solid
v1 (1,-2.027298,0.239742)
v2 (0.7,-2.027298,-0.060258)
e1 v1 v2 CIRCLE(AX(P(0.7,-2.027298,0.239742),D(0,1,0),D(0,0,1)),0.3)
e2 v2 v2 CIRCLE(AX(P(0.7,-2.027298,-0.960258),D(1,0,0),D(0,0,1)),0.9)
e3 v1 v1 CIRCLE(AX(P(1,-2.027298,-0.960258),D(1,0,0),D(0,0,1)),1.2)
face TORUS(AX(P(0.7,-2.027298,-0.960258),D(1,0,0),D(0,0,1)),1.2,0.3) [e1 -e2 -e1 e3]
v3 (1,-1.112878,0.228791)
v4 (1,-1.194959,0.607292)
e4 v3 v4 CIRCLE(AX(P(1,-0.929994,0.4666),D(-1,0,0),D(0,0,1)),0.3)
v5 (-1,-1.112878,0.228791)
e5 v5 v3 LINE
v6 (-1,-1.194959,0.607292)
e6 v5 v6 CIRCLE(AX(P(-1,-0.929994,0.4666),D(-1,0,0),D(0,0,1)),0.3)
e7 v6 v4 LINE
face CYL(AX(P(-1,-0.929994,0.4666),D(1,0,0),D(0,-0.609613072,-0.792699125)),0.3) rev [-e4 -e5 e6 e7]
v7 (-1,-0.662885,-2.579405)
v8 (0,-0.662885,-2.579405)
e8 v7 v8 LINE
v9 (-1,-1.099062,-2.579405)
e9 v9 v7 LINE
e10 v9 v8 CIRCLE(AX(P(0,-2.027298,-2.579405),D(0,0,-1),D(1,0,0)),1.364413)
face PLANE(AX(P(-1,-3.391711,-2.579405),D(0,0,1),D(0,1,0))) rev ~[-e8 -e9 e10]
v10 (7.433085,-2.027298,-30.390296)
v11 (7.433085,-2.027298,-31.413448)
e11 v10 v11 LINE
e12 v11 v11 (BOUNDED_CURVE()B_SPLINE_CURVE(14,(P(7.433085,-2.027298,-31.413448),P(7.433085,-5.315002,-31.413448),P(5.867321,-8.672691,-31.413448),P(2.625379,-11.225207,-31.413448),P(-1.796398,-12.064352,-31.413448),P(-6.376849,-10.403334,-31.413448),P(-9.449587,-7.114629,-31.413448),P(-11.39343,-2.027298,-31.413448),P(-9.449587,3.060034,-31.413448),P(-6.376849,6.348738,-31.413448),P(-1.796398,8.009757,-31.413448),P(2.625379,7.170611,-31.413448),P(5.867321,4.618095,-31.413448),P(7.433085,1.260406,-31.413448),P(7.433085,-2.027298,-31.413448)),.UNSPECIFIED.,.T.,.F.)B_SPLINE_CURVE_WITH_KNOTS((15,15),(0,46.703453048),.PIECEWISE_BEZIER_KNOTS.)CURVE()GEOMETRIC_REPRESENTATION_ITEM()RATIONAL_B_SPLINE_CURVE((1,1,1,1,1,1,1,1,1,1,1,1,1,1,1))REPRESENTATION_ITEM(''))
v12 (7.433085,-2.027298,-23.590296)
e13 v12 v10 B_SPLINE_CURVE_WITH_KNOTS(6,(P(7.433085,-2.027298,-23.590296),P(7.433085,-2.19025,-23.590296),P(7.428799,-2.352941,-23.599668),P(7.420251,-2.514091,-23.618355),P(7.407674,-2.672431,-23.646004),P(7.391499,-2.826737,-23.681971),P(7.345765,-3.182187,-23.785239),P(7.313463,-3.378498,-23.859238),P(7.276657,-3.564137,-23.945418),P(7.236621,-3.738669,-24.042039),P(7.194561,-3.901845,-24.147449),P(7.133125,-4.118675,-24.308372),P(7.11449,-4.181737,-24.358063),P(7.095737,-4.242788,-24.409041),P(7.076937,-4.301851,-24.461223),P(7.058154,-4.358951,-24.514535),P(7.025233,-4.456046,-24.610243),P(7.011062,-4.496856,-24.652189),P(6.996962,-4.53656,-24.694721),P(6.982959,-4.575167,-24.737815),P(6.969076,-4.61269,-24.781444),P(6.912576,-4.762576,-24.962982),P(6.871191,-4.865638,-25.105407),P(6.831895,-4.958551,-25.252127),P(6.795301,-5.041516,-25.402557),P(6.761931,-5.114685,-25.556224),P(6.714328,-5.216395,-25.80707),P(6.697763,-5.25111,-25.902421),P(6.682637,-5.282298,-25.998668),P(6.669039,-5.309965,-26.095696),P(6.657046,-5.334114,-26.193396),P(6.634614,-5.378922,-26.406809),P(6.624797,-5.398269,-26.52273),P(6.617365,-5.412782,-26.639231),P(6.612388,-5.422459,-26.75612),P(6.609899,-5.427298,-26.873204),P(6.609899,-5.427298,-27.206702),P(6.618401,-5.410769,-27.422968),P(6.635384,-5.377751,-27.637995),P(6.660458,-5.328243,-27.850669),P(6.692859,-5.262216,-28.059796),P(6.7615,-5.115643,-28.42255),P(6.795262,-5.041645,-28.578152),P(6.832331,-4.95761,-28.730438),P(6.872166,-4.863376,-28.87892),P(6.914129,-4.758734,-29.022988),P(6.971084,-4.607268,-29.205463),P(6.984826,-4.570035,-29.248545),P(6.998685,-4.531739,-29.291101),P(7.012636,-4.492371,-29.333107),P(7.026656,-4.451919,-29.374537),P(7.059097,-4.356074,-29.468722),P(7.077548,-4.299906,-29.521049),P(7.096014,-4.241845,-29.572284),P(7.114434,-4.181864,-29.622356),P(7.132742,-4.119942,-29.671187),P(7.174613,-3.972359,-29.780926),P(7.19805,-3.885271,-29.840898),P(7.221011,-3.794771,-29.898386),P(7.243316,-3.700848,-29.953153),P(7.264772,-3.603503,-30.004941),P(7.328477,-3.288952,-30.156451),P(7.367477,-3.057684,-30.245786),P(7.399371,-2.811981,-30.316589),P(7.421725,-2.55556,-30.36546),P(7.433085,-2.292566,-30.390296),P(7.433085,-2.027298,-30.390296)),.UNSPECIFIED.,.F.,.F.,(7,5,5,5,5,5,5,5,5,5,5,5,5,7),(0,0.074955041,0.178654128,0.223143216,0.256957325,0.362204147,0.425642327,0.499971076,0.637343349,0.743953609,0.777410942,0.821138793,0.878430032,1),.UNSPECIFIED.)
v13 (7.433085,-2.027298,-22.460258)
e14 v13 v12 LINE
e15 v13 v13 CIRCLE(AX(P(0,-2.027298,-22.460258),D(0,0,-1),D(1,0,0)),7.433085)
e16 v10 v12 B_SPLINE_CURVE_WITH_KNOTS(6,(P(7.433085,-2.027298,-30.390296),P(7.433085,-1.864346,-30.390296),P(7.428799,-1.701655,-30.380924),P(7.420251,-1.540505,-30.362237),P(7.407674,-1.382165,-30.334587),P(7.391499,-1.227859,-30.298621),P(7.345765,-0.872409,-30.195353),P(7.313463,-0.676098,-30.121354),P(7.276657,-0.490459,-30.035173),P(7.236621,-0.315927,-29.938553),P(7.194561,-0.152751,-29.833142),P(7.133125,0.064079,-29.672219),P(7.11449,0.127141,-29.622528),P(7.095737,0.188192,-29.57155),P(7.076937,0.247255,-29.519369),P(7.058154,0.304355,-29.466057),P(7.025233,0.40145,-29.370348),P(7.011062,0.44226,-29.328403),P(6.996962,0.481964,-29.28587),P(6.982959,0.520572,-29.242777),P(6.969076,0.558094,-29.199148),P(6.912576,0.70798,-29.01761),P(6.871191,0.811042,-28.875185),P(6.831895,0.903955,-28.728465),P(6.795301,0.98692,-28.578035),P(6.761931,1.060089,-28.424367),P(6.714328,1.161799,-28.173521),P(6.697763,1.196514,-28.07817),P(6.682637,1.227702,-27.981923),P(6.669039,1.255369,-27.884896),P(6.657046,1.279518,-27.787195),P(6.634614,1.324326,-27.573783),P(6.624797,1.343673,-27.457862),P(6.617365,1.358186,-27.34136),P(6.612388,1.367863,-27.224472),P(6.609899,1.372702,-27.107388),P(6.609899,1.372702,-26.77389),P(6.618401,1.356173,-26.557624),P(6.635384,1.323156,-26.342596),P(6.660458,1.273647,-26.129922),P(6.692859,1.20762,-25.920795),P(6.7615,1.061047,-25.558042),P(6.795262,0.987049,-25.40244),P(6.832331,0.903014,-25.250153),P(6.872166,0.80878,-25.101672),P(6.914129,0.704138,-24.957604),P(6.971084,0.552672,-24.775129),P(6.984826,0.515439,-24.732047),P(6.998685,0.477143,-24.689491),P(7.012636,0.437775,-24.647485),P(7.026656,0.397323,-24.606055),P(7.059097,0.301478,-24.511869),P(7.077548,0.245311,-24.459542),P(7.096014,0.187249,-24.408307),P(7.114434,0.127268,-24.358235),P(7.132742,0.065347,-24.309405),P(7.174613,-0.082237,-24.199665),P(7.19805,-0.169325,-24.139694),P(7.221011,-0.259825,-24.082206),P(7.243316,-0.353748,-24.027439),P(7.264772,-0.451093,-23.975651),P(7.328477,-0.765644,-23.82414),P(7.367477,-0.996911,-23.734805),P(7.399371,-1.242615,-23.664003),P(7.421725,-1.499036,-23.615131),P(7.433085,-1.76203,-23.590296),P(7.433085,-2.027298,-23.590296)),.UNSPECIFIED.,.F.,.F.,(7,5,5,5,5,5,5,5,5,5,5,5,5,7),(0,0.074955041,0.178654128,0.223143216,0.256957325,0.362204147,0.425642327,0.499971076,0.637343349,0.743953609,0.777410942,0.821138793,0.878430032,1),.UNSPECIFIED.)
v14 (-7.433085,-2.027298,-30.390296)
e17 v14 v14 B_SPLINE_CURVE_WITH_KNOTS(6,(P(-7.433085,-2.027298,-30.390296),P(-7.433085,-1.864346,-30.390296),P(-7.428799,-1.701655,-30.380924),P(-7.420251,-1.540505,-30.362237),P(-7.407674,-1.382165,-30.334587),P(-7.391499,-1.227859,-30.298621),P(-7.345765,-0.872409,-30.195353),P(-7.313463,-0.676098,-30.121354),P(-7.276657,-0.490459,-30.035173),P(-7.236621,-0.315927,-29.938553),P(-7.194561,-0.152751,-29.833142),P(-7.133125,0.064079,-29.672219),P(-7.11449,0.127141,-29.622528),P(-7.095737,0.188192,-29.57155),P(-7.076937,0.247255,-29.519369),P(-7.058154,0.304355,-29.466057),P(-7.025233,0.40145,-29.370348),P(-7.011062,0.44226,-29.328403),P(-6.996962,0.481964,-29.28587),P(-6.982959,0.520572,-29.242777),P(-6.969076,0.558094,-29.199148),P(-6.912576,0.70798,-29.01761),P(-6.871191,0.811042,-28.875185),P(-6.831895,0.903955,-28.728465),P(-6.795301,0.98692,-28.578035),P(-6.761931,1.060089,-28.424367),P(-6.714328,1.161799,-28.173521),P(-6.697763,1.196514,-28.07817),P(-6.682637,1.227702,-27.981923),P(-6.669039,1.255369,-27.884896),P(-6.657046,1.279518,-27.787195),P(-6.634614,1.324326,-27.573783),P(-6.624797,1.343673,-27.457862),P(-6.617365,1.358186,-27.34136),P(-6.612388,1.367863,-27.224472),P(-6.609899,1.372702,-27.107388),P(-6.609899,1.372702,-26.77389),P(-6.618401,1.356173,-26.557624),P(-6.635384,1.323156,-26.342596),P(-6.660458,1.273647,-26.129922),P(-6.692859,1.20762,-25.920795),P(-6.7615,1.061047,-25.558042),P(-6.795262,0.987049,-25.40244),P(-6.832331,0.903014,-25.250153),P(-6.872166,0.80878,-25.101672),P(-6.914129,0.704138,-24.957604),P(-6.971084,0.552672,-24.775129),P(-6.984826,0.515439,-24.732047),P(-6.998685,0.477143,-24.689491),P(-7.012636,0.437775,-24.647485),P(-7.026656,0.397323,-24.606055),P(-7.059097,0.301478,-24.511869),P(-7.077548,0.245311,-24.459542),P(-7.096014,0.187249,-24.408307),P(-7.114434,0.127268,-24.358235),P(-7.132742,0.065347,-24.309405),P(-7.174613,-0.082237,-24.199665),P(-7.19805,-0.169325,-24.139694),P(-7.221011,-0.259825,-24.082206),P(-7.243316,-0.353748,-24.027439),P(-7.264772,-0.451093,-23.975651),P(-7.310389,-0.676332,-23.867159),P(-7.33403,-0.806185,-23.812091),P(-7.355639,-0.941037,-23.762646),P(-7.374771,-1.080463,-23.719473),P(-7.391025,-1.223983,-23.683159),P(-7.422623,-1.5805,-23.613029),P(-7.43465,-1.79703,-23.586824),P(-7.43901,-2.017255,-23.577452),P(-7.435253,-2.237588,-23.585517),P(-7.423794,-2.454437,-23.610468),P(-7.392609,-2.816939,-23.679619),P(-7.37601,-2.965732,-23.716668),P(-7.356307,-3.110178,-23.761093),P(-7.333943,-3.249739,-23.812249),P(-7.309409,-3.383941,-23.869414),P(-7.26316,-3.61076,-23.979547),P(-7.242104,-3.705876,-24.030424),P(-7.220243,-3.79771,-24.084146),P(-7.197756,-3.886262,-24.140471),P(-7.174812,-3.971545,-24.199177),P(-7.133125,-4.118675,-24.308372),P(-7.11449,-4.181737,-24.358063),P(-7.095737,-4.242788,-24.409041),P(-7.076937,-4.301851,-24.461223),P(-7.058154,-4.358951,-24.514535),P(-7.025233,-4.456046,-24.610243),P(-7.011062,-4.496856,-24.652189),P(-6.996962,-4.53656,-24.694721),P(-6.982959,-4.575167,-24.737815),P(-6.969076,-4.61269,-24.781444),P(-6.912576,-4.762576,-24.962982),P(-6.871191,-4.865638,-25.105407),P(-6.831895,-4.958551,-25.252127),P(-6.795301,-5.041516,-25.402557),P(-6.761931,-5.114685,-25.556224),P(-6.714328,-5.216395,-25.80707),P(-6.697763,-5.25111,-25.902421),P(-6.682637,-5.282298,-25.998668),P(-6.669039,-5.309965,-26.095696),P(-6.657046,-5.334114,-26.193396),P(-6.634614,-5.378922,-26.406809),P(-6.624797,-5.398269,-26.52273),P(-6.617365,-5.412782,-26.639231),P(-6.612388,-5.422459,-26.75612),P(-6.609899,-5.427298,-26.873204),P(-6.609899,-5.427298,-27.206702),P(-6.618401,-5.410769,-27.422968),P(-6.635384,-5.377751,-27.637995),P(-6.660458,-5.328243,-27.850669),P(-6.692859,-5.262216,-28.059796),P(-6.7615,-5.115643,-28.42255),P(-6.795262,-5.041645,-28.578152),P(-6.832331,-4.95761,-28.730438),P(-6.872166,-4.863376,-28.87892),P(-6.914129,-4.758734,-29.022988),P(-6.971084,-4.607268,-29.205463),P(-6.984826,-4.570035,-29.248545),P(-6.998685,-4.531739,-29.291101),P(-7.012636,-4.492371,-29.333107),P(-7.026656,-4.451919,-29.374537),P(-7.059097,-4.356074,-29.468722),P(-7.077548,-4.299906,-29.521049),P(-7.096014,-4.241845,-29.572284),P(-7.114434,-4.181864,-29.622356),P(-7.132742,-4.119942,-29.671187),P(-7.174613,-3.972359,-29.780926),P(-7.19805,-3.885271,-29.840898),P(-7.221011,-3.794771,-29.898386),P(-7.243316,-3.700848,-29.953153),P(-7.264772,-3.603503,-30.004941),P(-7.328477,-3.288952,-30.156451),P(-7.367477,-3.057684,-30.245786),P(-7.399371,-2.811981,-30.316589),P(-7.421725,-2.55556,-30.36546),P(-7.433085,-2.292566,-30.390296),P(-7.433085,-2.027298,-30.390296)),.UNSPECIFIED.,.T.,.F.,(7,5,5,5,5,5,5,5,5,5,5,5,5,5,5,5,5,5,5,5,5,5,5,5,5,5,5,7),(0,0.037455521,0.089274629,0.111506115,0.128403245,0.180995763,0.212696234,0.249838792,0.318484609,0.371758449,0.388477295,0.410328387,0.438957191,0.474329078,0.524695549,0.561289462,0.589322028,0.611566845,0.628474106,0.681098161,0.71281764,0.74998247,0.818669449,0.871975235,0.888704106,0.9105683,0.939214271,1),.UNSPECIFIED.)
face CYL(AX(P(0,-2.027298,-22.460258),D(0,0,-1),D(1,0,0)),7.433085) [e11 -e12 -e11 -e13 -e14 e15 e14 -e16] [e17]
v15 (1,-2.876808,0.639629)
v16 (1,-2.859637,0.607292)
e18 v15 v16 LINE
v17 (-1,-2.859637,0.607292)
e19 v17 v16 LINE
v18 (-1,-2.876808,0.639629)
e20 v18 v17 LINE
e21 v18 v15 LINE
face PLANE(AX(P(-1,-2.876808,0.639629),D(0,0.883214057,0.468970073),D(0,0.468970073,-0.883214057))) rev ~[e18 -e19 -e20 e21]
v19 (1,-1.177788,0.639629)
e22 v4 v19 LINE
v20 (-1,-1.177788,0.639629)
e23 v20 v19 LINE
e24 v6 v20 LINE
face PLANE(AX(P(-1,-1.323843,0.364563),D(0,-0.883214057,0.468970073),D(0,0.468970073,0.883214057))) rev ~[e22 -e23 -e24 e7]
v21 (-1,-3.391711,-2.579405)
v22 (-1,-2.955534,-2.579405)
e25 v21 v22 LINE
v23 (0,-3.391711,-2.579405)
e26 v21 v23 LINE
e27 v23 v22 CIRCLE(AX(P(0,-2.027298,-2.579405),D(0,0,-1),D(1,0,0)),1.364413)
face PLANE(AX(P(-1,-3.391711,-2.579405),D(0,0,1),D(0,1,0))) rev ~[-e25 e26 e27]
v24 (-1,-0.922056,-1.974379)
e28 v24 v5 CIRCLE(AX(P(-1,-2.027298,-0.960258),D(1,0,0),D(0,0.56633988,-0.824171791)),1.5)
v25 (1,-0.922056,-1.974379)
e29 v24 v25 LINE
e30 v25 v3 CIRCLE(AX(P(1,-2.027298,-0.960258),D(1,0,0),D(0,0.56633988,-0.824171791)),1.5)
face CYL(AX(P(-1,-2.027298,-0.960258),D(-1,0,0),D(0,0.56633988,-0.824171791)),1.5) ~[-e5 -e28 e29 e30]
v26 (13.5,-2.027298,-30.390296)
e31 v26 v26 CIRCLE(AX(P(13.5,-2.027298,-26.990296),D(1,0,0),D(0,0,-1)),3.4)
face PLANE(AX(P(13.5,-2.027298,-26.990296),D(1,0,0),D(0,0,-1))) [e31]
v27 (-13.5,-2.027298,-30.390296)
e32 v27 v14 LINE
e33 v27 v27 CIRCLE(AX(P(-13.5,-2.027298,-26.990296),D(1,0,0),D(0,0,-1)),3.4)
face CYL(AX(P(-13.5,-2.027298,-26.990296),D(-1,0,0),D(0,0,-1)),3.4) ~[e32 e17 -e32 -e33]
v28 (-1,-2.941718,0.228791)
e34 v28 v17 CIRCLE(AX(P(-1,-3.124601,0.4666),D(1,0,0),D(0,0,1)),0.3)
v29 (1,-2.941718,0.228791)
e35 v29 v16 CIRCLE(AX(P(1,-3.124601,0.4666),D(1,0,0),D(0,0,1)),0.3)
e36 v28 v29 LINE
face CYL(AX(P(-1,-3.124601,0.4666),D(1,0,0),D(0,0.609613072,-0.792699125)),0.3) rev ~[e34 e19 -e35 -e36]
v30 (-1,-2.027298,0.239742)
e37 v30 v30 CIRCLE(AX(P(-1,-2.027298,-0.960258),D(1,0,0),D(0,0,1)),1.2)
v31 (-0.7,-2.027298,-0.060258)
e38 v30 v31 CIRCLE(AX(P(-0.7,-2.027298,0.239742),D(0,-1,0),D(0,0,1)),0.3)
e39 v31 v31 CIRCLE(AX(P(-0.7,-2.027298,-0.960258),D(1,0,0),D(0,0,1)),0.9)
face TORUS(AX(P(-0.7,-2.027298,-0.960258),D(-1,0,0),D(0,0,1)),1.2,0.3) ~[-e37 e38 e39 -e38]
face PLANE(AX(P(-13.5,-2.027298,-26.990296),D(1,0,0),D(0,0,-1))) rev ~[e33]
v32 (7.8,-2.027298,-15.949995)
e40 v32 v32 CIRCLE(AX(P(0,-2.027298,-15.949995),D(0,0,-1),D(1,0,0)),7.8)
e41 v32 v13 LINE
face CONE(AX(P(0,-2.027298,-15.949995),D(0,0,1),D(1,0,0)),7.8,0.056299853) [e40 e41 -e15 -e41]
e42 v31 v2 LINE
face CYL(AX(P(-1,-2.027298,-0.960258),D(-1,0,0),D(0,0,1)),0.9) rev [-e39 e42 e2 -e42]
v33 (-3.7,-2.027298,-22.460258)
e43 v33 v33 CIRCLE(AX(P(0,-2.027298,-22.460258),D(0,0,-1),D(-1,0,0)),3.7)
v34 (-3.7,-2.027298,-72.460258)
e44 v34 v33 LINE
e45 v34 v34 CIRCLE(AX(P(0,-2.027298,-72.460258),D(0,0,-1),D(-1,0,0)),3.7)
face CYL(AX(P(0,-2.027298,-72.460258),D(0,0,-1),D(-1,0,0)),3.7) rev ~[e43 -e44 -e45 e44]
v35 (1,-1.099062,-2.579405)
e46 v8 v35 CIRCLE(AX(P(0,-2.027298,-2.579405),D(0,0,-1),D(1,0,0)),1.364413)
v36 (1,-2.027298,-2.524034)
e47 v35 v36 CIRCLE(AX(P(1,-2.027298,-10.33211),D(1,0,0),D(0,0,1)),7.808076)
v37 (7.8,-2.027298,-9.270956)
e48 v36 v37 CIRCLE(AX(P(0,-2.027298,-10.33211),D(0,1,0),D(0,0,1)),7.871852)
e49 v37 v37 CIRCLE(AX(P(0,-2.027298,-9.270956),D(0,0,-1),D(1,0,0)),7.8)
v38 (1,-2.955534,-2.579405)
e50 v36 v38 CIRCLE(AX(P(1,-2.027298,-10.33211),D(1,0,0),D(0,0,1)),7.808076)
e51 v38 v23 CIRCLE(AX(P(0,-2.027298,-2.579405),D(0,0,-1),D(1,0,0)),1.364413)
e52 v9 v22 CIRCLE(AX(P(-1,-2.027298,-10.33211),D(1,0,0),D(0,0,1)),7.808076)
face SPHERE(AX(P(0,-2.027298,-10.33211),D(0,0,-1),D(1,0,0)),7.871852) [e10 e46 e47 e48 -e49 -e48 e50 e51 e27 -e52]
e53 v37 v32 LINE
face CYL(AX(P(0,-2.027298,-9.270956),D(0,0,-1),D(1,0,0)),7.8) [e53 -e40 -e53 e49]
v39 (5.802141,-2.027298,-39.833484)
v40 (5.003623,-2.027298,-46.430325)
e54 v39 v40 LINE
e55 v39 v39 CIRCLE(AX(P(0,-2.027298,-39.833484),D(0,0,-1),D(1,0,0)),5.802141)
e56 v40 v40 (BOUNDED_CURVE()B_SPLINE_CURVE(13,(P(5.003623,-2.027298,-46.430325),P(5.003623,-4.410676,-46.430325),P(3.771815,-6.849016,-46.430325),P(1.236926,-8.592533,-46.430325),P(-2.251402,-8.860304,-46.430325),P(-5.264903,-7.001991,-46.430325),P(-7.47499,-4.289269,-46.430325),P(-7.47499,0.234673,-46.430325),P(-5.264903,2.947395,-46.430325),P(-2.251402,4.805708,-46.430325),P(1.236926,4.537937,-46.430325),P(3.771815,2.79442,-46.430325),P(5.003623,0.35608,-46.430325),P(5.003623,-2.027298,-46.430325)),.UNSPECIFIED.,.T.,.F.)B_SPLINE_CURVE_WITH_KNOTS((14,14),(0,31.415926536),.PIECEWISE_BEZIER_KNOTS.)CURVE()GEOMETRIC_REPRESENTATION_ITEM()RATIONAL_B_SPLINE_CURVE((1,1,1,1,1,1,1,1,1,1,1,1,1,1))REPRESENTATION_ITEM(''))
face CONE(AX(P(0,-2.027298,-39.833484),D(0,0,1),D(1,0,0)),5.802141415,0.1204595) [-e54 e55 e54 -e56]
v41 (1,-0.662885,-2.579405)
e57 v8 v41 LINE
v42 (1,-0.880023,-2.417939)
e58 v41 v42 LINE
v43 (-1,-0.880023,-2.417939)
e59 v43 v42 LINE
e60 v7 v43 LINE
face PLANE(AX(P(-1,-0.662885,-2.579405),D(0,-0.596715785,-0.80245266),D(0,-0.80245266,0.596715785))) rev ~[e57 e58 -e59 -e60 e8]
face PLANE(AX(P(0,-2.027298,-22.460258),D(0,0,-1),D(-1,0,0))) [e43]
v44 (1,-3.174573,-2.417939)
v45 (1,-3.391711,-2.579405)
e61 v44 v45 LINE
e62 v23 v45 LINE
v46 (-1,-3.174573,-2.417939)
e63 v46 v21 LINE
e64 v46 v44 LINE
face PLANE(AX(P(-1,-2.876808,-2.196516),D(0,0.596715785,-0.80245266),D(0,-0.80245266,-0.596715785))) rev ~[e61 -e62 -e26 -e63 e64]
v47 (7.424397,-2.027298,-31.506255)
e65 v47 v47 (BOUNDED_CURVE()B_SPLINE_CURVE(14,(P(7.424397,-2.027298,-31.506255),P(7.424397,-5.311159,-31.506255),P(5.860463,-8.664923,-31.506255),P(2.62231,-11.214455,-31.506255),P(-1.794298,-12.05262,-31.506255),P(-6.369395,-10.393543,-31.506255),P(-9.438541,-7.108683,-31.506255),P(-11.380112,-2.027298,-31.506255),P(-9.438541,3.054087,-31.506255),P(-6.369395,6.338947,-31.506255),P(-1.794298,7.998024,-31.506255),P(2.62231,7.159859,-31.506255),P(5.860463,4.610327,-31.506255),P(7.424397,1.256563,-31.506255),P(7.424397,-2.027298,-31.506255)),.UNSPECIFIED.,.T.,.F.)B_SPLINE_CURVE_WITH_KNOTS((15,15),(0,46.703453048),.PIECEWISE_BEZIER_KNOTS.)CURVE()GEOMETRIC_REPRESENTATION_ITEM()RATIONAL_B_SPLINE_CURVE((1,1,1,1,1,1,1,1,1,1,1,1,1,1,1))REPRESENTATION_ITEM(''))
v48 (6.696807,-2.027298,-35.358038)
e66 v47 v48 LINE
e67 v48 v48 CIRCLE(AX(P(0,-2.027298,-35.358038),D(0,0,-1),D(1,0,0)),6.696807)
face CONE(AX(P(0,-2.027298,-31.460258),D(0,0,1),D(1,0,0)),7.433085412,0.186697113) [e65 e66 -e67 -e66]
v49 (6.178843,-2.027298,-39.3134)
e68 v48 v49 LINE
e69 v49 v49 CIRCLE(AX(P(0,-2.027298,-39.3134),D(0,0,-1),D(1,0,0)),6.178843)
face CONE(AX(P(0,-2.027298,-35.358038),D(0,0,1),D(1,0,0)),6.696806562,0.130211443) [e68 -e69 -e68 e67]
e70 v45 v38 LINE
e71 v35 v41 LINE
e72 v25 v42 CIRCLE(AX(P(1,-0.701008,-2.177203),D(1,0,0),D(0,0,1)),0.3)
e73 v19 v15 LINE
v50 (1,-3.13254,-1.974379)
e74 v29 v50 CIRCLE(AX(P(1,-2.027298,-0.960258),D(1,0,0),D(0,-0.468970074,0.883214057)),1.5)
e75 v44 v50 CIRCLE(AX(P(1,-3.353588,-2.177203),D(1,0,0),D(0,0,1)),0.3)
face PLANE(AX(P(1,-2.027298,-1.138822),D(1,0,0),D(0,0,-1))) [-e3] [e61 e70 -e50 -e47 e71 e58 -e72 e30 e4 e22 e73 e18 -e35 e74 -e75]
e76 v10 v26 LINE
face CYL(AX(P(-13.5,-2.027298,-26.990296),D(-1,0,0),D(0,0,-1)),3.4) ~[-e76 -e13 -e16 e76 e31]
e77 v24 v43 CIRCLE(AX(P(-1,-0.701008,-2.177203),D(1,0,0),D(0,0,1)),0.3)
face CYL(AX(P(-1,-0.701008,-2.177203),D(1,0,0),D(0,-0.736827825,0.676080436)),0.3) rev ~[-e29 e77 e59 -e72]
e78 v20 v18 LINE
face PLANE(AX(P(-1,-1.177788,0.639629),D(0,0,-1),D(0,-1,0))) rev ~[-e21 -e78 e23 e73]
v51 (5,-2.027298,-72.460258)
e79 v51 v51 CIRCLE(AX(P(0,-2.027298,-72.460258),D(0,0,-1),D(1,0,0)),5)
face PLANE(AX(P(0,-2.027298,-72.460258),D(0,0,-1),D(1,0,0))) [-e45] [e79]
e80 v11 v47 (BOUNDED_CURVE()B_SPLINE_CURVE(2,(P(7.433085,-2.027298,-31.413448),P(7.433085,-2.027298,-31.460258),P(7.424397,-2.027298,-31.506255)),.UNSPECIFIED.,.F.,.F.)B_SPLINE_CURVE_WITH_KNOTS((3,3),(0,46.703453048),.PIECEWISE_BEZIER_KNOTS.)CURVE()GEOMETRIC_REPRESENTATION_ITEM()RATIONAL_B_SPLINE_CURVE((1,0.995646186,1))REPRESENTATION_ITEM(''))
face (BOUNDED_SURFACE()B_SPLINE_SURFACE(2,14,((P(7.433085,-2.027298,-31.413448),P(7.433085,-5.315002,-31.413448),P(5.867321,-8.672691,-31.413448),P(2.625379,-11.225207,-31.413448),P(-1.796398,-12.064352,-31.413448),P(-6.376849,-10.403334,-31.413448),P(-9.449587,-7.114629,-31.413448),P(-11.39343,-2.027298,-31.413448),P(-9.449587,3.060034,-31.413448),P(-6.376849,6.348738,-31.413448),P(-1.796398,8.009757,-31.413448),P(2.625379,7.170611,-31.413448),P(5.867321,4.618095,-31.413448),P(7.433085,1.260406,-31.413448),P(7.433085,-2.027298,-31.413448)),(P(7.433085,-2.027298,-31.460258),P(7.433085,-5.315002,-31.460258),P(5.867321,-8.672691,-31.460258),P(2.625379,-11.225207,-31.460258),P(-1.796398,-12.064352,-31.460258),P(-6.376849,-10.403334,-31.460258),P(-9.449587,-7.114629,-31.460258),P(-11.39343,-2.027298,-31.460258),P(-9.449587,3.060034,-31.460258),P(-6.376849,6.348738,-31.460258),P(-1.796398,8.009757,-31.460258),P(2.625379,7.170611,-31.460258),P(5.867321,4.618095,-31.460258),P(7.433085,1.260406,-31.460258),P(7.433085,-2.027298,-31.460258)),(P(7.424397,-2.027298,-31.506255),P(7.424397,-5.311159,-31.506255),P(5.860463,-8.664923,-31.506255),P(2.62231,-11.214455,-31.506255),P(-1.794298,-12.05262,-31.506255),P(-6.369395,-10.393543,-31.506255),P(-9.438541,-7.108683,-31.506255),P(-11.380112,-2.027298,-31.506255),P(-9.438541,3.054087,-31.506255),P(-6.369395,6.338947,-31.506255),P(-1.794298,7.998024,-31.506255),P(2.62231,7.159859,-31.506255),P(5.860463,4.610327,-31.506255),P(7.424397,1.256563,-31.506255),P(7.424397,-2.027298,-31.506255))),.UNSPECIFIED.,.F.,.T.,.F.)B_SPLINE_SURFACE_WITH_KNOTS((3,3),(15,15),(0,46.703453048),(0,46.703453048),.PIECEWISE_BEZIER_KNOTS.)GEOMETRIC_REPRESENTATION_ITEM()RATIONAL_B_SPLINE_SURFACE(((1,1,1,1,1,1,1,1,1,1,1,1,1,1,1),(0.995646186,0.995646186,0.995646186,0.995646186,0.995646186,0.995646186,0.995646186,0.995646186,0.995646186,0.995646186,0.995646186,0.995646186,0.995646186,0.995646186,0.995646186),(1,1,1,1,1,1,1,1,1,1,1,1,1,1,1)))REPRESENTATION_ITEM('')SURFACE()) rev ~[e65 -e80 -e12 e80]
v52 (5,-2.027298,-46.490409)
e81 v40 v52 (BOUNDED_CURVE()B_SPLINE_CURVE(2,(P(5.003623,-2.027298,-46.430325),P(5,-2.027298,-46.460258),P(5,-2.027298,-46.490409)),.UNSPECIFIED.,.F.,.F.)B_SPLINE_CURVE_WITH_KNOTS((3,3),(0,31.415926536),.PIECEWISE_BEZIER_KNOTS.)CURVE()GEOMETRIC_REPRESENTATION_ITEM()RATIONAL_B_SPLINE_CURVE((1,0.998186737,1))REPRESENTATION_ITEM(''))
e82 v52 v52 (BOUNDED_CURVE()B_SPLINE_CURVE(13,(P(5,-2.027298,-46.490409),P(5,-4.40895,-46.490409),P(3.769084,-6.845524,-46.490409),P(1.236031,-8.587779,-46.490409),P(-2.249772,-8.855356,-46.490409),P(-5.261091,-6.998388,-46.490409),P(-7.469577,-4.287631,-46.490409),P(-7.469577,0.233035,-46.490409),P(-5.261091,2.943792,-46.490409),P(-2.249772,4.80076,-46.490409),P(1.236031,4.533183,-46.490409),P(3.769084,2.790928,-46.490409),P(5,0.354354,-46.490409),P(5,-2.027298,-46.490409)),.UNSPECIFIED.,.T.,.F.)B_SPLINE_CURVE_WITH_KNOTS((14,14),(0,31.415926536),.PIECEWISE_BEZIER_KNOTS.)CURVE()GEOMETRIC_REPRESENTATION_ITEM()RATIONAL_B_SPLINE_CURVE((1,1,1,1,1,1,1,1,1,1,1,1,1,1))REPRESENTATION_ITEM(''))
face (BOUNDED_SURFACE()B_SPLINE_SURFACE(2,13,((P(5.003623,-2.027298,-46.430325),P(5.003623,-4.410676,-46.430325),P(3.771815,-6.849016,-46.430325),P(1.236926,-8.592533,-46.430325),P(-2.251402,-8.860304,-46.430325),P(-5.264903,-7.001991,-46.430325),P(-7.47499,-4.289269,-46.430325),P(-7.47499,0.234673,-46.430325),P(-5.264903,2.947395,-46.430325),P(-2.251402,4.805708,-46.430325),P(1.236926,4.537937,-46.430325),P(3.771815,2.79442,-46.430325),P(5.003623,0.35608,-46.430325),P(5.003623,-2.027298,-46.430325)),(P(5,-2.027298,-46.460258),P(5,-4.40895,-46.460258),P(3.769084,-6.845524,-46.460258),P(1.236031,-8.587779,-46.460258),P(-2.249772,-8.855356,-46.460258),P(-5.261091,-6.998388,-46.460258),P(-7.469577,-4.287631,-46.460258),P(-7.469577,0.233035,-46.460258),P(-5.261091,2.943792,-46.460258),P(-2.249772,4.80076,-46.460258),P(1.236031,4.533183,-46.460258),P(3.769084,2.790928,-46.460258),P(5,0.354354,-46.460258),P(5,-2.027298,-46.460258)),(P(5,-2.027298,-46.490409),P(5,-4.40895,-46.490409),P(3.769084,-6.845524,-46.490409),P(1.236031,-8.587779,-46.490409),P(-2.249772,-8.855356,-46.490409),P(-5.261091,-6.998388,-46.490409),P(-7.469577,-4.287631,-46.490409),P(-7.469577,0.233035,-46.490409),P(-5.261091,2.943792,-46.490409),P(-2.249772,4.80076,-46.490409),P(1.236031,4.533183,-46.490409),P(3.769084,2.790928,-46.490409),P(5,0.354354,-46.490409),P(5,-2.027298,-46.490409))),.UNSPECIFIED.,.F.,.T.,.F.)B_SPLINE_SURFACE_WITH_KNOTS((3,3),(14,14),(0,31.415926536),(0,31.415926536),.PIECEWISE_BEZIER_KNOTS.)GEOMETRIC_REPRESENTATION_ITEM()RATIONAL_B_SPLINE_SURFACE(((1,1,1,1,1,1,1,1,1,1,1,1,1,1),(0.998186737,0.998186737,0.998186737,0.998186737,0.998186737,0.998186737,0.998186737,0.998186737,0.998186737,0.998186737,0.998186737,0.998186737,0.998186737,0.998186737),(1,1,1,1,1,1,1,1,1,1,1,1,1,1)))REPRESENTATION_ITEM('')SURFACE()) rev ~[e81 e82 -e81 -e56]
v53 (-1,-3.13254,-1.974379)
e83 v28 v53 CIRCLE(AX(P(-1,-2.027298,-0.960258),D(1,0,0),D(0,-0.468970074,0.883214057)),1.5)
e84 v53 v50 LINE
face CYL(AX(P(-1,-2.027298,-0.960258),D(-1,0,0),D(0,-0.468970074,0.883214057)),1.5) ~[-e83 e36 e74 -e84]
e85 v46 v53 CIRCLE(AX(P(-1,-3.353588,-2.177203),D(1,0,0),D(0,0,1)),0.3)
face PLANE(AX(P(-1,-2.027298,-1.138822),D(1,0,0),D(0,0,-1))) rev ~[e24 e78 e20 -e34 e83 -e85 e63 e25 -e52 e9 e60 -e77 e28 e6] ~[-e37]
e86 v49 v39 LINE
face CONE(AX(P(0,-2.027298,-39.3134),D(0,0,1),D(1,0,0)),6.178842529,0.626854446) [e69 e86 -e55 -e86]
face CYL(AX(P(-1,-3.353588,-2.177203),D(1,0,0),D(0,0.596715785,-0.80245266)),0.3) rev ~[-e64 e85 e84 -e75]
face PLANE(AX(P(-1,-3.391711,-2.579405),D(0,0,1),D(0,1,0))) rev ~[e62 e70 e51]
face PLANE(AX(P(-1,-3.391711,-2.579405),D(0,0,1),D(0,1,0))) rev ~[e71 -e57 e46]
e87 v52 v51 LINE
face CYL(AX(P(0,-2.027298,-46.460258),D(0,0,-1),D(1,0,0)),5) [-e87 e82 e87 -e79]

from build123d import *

# Parameters (mm, degrees)
FILLET2_R                = 0.5
BOSS_EXTRUDE1_DEPTH      = 13.5
BOSS_EXTRUDE1_DEPTH_BACK = 13.5
SKETCH4_R                = 3.4
SKETCH2_R                = 3.7
CUT_EXTRUDE3_DEPTH       = 50
BOSS_EXTRUDE4_DEPTH      = 1
BOSS_EXTRUDE4_DEPTH_BACK = 1
FILLET10_R               = 0.3
FILLET11_R               = 0.3
FILLET12_R               = 0.3


with BuildPart() as part:
    # Sketch1 → Revolve3 (revolve)
    with BuildSketch(Plane(origin=(0, 0, 0), x_dir=(0, 0, -1), z_dir=(1, 0, 0))):
        with BuildLine():
            Line((9.270955764, 5.772702061), (15.949995133, 5.772702061))
            Line((15.949995133, 5.772702061), (22.460257938, 5.405787473))
            Line((22.460257938, 5.405787473), (31.460257938, 5.405787473))
            Line((31.460257938, 5.405787473), (35.358038474, 4.669508623))
            Line((35.358038474, 4.669508623), (39.313400178, 4.15154459))
            Line((39.313400178, 4.15154459), (39.833484347, 3.774843476))
            Line((39.833484347, 3.774843476), (46.460257938, 2.972702061))
            Line((46.460257938, 2.972702061), (72.460257938, 2.972702061))
            Line((72.460257938, 2.972702061), (72.460257938, -2.027297939))
            Line((72.460257938, -2.027297939), (2.460257938, -2.027297939))
            ThreePointArc((2.460257938, -2.027297939), (4.402552529, 3.150191919), (9.270955764, 5.772702061))
        make_face()
    revolve(axis=Axis((0, -2.027297939, -2.460257938), (0, 0, -1)))

    # Fillet2
    fillet2_edges = [part.edges().sort_by_distance(p)[0] for p in [
        (0, -9.46038335, -31.460257938),
        (0, -9.46038335, -22.460257938),
        (0, -8.7241045, -35.358038474),
        (0, -7.027297939, -46.460257938),
    ]]
    fillet(fillet2_edges, radius=FILLET2_R)

    # Sketch4 → Boss-Extrude1 (add, two sides: drawn at the far end of the back side and taken through both)
    with BuildSketch(Plane(origin=(0, 0, 0), x_dir=(0, 0, -1), z_dir=(1, 0, 0)).offset(-BOSS_EXTRUDE1_DEPTH_BACK)):
        with Locations((26.990295722, -2.027297939)):
            Circle(SKETCH4_R)
    extrude(amount=BOSS_EXTRUDE1_DEPTH + BOSS_EXTRUDE1_DEPTH_BACK)

    # Sketch2 → Cut-Extrude3 (cut)
    with BuildSketch(Plane(origin=(0, 0, -72.460257938), x_dir=(-1, 0, 0), z_dir=(0, 0, -1))):
        with Locations((0, -2.027297939)):
            Circle(SKETCH2_R)
    extrude(amount=-CUT_EXTRUDE3_DEPTH, mode=Mode.SUBTRACT)

    # Sketch5 → Boss-Extrude4 (add, two sides: drawn at the far end of the back side and taken through both)
    with BuildSketch(Plane(origin=(0, 0, 0), x_dir=(0, 0, -1), z_dir=(1, 0, 0)).offset(-BOSS_EXTRUDE4_DEPTH_BACK)):
        with BuildLine():
            Line((-0.364563148, -1.323842828), (-0.639628828, -1.177788119))
            Line((-0.639628828, -1.177788119), (-0.639628828, -2.876807758))
            Line((-0.639628828, -2.876807758), (-0.364563148, -2.730753049))
            ThreePointArc((-0.364563148, -2.730753049), (0.874853819, -3.524864677), (2.196515624, -2.876807758))
            Line((2.196515624, -2.876807758), (2.579405143, -3.3917107))
            Line((2.579405143, -3.3917107), (2.579405143, -0.662885177))
            Line((2.579405143, -0.662885177), (2.196515624, -1.177788119))
            ThreePointArc((2.196515624, -1.177788119), (0.874853819, -0.5297312), (-0.364563148, -1.323842828))
        make_face()
        with BuildLine():
            ThreePointArc((1.860257938, -2.027297939), (0.960257938, -1.127297939), (0.060257938, -2.027297939))
            ThreePointArc((0.060257938, -2.027297939), (0.960257938, -2.927297939), (1.860257938, -2.027297939))
        make_face(mode=Mode.SUBTRACT)
    extrude(amount=BOSS_EXTRUDE4_DEPTH + BOSS_EXTRUDE4_DEPTH_BACK)

    # Fillet10
    fillet10_edges = [part.edges().sort_by_distance(p)[0] for p in [
        (1, -2.027297939, -1.860257938),
        (-1, -2.027297939, -1.860257938),
    ]]
    fillet(fillet10_edges, radius=FILLET10_R)

    # Fillet11
    fillet11_edges = [part.edges().sort_by_distance(p)[0] for p in [
        (0, -2.730753049, 0.364563148),
        (0, -1.323842828, 0.364563148),
    ]]
    fillet(fillet11_edges, radius=FILLET11_R)

    # Fillet12
    fillet12_edges = [part.edges().sort_by_distance(p)[0] for p in [
        (0, -2.876807758, -2.196515624),
        (0, -1.177788119, -2.196515624),
    ]]
    fillet(fillet12_edges, radius=FILLET12_R)


solid = part.part
